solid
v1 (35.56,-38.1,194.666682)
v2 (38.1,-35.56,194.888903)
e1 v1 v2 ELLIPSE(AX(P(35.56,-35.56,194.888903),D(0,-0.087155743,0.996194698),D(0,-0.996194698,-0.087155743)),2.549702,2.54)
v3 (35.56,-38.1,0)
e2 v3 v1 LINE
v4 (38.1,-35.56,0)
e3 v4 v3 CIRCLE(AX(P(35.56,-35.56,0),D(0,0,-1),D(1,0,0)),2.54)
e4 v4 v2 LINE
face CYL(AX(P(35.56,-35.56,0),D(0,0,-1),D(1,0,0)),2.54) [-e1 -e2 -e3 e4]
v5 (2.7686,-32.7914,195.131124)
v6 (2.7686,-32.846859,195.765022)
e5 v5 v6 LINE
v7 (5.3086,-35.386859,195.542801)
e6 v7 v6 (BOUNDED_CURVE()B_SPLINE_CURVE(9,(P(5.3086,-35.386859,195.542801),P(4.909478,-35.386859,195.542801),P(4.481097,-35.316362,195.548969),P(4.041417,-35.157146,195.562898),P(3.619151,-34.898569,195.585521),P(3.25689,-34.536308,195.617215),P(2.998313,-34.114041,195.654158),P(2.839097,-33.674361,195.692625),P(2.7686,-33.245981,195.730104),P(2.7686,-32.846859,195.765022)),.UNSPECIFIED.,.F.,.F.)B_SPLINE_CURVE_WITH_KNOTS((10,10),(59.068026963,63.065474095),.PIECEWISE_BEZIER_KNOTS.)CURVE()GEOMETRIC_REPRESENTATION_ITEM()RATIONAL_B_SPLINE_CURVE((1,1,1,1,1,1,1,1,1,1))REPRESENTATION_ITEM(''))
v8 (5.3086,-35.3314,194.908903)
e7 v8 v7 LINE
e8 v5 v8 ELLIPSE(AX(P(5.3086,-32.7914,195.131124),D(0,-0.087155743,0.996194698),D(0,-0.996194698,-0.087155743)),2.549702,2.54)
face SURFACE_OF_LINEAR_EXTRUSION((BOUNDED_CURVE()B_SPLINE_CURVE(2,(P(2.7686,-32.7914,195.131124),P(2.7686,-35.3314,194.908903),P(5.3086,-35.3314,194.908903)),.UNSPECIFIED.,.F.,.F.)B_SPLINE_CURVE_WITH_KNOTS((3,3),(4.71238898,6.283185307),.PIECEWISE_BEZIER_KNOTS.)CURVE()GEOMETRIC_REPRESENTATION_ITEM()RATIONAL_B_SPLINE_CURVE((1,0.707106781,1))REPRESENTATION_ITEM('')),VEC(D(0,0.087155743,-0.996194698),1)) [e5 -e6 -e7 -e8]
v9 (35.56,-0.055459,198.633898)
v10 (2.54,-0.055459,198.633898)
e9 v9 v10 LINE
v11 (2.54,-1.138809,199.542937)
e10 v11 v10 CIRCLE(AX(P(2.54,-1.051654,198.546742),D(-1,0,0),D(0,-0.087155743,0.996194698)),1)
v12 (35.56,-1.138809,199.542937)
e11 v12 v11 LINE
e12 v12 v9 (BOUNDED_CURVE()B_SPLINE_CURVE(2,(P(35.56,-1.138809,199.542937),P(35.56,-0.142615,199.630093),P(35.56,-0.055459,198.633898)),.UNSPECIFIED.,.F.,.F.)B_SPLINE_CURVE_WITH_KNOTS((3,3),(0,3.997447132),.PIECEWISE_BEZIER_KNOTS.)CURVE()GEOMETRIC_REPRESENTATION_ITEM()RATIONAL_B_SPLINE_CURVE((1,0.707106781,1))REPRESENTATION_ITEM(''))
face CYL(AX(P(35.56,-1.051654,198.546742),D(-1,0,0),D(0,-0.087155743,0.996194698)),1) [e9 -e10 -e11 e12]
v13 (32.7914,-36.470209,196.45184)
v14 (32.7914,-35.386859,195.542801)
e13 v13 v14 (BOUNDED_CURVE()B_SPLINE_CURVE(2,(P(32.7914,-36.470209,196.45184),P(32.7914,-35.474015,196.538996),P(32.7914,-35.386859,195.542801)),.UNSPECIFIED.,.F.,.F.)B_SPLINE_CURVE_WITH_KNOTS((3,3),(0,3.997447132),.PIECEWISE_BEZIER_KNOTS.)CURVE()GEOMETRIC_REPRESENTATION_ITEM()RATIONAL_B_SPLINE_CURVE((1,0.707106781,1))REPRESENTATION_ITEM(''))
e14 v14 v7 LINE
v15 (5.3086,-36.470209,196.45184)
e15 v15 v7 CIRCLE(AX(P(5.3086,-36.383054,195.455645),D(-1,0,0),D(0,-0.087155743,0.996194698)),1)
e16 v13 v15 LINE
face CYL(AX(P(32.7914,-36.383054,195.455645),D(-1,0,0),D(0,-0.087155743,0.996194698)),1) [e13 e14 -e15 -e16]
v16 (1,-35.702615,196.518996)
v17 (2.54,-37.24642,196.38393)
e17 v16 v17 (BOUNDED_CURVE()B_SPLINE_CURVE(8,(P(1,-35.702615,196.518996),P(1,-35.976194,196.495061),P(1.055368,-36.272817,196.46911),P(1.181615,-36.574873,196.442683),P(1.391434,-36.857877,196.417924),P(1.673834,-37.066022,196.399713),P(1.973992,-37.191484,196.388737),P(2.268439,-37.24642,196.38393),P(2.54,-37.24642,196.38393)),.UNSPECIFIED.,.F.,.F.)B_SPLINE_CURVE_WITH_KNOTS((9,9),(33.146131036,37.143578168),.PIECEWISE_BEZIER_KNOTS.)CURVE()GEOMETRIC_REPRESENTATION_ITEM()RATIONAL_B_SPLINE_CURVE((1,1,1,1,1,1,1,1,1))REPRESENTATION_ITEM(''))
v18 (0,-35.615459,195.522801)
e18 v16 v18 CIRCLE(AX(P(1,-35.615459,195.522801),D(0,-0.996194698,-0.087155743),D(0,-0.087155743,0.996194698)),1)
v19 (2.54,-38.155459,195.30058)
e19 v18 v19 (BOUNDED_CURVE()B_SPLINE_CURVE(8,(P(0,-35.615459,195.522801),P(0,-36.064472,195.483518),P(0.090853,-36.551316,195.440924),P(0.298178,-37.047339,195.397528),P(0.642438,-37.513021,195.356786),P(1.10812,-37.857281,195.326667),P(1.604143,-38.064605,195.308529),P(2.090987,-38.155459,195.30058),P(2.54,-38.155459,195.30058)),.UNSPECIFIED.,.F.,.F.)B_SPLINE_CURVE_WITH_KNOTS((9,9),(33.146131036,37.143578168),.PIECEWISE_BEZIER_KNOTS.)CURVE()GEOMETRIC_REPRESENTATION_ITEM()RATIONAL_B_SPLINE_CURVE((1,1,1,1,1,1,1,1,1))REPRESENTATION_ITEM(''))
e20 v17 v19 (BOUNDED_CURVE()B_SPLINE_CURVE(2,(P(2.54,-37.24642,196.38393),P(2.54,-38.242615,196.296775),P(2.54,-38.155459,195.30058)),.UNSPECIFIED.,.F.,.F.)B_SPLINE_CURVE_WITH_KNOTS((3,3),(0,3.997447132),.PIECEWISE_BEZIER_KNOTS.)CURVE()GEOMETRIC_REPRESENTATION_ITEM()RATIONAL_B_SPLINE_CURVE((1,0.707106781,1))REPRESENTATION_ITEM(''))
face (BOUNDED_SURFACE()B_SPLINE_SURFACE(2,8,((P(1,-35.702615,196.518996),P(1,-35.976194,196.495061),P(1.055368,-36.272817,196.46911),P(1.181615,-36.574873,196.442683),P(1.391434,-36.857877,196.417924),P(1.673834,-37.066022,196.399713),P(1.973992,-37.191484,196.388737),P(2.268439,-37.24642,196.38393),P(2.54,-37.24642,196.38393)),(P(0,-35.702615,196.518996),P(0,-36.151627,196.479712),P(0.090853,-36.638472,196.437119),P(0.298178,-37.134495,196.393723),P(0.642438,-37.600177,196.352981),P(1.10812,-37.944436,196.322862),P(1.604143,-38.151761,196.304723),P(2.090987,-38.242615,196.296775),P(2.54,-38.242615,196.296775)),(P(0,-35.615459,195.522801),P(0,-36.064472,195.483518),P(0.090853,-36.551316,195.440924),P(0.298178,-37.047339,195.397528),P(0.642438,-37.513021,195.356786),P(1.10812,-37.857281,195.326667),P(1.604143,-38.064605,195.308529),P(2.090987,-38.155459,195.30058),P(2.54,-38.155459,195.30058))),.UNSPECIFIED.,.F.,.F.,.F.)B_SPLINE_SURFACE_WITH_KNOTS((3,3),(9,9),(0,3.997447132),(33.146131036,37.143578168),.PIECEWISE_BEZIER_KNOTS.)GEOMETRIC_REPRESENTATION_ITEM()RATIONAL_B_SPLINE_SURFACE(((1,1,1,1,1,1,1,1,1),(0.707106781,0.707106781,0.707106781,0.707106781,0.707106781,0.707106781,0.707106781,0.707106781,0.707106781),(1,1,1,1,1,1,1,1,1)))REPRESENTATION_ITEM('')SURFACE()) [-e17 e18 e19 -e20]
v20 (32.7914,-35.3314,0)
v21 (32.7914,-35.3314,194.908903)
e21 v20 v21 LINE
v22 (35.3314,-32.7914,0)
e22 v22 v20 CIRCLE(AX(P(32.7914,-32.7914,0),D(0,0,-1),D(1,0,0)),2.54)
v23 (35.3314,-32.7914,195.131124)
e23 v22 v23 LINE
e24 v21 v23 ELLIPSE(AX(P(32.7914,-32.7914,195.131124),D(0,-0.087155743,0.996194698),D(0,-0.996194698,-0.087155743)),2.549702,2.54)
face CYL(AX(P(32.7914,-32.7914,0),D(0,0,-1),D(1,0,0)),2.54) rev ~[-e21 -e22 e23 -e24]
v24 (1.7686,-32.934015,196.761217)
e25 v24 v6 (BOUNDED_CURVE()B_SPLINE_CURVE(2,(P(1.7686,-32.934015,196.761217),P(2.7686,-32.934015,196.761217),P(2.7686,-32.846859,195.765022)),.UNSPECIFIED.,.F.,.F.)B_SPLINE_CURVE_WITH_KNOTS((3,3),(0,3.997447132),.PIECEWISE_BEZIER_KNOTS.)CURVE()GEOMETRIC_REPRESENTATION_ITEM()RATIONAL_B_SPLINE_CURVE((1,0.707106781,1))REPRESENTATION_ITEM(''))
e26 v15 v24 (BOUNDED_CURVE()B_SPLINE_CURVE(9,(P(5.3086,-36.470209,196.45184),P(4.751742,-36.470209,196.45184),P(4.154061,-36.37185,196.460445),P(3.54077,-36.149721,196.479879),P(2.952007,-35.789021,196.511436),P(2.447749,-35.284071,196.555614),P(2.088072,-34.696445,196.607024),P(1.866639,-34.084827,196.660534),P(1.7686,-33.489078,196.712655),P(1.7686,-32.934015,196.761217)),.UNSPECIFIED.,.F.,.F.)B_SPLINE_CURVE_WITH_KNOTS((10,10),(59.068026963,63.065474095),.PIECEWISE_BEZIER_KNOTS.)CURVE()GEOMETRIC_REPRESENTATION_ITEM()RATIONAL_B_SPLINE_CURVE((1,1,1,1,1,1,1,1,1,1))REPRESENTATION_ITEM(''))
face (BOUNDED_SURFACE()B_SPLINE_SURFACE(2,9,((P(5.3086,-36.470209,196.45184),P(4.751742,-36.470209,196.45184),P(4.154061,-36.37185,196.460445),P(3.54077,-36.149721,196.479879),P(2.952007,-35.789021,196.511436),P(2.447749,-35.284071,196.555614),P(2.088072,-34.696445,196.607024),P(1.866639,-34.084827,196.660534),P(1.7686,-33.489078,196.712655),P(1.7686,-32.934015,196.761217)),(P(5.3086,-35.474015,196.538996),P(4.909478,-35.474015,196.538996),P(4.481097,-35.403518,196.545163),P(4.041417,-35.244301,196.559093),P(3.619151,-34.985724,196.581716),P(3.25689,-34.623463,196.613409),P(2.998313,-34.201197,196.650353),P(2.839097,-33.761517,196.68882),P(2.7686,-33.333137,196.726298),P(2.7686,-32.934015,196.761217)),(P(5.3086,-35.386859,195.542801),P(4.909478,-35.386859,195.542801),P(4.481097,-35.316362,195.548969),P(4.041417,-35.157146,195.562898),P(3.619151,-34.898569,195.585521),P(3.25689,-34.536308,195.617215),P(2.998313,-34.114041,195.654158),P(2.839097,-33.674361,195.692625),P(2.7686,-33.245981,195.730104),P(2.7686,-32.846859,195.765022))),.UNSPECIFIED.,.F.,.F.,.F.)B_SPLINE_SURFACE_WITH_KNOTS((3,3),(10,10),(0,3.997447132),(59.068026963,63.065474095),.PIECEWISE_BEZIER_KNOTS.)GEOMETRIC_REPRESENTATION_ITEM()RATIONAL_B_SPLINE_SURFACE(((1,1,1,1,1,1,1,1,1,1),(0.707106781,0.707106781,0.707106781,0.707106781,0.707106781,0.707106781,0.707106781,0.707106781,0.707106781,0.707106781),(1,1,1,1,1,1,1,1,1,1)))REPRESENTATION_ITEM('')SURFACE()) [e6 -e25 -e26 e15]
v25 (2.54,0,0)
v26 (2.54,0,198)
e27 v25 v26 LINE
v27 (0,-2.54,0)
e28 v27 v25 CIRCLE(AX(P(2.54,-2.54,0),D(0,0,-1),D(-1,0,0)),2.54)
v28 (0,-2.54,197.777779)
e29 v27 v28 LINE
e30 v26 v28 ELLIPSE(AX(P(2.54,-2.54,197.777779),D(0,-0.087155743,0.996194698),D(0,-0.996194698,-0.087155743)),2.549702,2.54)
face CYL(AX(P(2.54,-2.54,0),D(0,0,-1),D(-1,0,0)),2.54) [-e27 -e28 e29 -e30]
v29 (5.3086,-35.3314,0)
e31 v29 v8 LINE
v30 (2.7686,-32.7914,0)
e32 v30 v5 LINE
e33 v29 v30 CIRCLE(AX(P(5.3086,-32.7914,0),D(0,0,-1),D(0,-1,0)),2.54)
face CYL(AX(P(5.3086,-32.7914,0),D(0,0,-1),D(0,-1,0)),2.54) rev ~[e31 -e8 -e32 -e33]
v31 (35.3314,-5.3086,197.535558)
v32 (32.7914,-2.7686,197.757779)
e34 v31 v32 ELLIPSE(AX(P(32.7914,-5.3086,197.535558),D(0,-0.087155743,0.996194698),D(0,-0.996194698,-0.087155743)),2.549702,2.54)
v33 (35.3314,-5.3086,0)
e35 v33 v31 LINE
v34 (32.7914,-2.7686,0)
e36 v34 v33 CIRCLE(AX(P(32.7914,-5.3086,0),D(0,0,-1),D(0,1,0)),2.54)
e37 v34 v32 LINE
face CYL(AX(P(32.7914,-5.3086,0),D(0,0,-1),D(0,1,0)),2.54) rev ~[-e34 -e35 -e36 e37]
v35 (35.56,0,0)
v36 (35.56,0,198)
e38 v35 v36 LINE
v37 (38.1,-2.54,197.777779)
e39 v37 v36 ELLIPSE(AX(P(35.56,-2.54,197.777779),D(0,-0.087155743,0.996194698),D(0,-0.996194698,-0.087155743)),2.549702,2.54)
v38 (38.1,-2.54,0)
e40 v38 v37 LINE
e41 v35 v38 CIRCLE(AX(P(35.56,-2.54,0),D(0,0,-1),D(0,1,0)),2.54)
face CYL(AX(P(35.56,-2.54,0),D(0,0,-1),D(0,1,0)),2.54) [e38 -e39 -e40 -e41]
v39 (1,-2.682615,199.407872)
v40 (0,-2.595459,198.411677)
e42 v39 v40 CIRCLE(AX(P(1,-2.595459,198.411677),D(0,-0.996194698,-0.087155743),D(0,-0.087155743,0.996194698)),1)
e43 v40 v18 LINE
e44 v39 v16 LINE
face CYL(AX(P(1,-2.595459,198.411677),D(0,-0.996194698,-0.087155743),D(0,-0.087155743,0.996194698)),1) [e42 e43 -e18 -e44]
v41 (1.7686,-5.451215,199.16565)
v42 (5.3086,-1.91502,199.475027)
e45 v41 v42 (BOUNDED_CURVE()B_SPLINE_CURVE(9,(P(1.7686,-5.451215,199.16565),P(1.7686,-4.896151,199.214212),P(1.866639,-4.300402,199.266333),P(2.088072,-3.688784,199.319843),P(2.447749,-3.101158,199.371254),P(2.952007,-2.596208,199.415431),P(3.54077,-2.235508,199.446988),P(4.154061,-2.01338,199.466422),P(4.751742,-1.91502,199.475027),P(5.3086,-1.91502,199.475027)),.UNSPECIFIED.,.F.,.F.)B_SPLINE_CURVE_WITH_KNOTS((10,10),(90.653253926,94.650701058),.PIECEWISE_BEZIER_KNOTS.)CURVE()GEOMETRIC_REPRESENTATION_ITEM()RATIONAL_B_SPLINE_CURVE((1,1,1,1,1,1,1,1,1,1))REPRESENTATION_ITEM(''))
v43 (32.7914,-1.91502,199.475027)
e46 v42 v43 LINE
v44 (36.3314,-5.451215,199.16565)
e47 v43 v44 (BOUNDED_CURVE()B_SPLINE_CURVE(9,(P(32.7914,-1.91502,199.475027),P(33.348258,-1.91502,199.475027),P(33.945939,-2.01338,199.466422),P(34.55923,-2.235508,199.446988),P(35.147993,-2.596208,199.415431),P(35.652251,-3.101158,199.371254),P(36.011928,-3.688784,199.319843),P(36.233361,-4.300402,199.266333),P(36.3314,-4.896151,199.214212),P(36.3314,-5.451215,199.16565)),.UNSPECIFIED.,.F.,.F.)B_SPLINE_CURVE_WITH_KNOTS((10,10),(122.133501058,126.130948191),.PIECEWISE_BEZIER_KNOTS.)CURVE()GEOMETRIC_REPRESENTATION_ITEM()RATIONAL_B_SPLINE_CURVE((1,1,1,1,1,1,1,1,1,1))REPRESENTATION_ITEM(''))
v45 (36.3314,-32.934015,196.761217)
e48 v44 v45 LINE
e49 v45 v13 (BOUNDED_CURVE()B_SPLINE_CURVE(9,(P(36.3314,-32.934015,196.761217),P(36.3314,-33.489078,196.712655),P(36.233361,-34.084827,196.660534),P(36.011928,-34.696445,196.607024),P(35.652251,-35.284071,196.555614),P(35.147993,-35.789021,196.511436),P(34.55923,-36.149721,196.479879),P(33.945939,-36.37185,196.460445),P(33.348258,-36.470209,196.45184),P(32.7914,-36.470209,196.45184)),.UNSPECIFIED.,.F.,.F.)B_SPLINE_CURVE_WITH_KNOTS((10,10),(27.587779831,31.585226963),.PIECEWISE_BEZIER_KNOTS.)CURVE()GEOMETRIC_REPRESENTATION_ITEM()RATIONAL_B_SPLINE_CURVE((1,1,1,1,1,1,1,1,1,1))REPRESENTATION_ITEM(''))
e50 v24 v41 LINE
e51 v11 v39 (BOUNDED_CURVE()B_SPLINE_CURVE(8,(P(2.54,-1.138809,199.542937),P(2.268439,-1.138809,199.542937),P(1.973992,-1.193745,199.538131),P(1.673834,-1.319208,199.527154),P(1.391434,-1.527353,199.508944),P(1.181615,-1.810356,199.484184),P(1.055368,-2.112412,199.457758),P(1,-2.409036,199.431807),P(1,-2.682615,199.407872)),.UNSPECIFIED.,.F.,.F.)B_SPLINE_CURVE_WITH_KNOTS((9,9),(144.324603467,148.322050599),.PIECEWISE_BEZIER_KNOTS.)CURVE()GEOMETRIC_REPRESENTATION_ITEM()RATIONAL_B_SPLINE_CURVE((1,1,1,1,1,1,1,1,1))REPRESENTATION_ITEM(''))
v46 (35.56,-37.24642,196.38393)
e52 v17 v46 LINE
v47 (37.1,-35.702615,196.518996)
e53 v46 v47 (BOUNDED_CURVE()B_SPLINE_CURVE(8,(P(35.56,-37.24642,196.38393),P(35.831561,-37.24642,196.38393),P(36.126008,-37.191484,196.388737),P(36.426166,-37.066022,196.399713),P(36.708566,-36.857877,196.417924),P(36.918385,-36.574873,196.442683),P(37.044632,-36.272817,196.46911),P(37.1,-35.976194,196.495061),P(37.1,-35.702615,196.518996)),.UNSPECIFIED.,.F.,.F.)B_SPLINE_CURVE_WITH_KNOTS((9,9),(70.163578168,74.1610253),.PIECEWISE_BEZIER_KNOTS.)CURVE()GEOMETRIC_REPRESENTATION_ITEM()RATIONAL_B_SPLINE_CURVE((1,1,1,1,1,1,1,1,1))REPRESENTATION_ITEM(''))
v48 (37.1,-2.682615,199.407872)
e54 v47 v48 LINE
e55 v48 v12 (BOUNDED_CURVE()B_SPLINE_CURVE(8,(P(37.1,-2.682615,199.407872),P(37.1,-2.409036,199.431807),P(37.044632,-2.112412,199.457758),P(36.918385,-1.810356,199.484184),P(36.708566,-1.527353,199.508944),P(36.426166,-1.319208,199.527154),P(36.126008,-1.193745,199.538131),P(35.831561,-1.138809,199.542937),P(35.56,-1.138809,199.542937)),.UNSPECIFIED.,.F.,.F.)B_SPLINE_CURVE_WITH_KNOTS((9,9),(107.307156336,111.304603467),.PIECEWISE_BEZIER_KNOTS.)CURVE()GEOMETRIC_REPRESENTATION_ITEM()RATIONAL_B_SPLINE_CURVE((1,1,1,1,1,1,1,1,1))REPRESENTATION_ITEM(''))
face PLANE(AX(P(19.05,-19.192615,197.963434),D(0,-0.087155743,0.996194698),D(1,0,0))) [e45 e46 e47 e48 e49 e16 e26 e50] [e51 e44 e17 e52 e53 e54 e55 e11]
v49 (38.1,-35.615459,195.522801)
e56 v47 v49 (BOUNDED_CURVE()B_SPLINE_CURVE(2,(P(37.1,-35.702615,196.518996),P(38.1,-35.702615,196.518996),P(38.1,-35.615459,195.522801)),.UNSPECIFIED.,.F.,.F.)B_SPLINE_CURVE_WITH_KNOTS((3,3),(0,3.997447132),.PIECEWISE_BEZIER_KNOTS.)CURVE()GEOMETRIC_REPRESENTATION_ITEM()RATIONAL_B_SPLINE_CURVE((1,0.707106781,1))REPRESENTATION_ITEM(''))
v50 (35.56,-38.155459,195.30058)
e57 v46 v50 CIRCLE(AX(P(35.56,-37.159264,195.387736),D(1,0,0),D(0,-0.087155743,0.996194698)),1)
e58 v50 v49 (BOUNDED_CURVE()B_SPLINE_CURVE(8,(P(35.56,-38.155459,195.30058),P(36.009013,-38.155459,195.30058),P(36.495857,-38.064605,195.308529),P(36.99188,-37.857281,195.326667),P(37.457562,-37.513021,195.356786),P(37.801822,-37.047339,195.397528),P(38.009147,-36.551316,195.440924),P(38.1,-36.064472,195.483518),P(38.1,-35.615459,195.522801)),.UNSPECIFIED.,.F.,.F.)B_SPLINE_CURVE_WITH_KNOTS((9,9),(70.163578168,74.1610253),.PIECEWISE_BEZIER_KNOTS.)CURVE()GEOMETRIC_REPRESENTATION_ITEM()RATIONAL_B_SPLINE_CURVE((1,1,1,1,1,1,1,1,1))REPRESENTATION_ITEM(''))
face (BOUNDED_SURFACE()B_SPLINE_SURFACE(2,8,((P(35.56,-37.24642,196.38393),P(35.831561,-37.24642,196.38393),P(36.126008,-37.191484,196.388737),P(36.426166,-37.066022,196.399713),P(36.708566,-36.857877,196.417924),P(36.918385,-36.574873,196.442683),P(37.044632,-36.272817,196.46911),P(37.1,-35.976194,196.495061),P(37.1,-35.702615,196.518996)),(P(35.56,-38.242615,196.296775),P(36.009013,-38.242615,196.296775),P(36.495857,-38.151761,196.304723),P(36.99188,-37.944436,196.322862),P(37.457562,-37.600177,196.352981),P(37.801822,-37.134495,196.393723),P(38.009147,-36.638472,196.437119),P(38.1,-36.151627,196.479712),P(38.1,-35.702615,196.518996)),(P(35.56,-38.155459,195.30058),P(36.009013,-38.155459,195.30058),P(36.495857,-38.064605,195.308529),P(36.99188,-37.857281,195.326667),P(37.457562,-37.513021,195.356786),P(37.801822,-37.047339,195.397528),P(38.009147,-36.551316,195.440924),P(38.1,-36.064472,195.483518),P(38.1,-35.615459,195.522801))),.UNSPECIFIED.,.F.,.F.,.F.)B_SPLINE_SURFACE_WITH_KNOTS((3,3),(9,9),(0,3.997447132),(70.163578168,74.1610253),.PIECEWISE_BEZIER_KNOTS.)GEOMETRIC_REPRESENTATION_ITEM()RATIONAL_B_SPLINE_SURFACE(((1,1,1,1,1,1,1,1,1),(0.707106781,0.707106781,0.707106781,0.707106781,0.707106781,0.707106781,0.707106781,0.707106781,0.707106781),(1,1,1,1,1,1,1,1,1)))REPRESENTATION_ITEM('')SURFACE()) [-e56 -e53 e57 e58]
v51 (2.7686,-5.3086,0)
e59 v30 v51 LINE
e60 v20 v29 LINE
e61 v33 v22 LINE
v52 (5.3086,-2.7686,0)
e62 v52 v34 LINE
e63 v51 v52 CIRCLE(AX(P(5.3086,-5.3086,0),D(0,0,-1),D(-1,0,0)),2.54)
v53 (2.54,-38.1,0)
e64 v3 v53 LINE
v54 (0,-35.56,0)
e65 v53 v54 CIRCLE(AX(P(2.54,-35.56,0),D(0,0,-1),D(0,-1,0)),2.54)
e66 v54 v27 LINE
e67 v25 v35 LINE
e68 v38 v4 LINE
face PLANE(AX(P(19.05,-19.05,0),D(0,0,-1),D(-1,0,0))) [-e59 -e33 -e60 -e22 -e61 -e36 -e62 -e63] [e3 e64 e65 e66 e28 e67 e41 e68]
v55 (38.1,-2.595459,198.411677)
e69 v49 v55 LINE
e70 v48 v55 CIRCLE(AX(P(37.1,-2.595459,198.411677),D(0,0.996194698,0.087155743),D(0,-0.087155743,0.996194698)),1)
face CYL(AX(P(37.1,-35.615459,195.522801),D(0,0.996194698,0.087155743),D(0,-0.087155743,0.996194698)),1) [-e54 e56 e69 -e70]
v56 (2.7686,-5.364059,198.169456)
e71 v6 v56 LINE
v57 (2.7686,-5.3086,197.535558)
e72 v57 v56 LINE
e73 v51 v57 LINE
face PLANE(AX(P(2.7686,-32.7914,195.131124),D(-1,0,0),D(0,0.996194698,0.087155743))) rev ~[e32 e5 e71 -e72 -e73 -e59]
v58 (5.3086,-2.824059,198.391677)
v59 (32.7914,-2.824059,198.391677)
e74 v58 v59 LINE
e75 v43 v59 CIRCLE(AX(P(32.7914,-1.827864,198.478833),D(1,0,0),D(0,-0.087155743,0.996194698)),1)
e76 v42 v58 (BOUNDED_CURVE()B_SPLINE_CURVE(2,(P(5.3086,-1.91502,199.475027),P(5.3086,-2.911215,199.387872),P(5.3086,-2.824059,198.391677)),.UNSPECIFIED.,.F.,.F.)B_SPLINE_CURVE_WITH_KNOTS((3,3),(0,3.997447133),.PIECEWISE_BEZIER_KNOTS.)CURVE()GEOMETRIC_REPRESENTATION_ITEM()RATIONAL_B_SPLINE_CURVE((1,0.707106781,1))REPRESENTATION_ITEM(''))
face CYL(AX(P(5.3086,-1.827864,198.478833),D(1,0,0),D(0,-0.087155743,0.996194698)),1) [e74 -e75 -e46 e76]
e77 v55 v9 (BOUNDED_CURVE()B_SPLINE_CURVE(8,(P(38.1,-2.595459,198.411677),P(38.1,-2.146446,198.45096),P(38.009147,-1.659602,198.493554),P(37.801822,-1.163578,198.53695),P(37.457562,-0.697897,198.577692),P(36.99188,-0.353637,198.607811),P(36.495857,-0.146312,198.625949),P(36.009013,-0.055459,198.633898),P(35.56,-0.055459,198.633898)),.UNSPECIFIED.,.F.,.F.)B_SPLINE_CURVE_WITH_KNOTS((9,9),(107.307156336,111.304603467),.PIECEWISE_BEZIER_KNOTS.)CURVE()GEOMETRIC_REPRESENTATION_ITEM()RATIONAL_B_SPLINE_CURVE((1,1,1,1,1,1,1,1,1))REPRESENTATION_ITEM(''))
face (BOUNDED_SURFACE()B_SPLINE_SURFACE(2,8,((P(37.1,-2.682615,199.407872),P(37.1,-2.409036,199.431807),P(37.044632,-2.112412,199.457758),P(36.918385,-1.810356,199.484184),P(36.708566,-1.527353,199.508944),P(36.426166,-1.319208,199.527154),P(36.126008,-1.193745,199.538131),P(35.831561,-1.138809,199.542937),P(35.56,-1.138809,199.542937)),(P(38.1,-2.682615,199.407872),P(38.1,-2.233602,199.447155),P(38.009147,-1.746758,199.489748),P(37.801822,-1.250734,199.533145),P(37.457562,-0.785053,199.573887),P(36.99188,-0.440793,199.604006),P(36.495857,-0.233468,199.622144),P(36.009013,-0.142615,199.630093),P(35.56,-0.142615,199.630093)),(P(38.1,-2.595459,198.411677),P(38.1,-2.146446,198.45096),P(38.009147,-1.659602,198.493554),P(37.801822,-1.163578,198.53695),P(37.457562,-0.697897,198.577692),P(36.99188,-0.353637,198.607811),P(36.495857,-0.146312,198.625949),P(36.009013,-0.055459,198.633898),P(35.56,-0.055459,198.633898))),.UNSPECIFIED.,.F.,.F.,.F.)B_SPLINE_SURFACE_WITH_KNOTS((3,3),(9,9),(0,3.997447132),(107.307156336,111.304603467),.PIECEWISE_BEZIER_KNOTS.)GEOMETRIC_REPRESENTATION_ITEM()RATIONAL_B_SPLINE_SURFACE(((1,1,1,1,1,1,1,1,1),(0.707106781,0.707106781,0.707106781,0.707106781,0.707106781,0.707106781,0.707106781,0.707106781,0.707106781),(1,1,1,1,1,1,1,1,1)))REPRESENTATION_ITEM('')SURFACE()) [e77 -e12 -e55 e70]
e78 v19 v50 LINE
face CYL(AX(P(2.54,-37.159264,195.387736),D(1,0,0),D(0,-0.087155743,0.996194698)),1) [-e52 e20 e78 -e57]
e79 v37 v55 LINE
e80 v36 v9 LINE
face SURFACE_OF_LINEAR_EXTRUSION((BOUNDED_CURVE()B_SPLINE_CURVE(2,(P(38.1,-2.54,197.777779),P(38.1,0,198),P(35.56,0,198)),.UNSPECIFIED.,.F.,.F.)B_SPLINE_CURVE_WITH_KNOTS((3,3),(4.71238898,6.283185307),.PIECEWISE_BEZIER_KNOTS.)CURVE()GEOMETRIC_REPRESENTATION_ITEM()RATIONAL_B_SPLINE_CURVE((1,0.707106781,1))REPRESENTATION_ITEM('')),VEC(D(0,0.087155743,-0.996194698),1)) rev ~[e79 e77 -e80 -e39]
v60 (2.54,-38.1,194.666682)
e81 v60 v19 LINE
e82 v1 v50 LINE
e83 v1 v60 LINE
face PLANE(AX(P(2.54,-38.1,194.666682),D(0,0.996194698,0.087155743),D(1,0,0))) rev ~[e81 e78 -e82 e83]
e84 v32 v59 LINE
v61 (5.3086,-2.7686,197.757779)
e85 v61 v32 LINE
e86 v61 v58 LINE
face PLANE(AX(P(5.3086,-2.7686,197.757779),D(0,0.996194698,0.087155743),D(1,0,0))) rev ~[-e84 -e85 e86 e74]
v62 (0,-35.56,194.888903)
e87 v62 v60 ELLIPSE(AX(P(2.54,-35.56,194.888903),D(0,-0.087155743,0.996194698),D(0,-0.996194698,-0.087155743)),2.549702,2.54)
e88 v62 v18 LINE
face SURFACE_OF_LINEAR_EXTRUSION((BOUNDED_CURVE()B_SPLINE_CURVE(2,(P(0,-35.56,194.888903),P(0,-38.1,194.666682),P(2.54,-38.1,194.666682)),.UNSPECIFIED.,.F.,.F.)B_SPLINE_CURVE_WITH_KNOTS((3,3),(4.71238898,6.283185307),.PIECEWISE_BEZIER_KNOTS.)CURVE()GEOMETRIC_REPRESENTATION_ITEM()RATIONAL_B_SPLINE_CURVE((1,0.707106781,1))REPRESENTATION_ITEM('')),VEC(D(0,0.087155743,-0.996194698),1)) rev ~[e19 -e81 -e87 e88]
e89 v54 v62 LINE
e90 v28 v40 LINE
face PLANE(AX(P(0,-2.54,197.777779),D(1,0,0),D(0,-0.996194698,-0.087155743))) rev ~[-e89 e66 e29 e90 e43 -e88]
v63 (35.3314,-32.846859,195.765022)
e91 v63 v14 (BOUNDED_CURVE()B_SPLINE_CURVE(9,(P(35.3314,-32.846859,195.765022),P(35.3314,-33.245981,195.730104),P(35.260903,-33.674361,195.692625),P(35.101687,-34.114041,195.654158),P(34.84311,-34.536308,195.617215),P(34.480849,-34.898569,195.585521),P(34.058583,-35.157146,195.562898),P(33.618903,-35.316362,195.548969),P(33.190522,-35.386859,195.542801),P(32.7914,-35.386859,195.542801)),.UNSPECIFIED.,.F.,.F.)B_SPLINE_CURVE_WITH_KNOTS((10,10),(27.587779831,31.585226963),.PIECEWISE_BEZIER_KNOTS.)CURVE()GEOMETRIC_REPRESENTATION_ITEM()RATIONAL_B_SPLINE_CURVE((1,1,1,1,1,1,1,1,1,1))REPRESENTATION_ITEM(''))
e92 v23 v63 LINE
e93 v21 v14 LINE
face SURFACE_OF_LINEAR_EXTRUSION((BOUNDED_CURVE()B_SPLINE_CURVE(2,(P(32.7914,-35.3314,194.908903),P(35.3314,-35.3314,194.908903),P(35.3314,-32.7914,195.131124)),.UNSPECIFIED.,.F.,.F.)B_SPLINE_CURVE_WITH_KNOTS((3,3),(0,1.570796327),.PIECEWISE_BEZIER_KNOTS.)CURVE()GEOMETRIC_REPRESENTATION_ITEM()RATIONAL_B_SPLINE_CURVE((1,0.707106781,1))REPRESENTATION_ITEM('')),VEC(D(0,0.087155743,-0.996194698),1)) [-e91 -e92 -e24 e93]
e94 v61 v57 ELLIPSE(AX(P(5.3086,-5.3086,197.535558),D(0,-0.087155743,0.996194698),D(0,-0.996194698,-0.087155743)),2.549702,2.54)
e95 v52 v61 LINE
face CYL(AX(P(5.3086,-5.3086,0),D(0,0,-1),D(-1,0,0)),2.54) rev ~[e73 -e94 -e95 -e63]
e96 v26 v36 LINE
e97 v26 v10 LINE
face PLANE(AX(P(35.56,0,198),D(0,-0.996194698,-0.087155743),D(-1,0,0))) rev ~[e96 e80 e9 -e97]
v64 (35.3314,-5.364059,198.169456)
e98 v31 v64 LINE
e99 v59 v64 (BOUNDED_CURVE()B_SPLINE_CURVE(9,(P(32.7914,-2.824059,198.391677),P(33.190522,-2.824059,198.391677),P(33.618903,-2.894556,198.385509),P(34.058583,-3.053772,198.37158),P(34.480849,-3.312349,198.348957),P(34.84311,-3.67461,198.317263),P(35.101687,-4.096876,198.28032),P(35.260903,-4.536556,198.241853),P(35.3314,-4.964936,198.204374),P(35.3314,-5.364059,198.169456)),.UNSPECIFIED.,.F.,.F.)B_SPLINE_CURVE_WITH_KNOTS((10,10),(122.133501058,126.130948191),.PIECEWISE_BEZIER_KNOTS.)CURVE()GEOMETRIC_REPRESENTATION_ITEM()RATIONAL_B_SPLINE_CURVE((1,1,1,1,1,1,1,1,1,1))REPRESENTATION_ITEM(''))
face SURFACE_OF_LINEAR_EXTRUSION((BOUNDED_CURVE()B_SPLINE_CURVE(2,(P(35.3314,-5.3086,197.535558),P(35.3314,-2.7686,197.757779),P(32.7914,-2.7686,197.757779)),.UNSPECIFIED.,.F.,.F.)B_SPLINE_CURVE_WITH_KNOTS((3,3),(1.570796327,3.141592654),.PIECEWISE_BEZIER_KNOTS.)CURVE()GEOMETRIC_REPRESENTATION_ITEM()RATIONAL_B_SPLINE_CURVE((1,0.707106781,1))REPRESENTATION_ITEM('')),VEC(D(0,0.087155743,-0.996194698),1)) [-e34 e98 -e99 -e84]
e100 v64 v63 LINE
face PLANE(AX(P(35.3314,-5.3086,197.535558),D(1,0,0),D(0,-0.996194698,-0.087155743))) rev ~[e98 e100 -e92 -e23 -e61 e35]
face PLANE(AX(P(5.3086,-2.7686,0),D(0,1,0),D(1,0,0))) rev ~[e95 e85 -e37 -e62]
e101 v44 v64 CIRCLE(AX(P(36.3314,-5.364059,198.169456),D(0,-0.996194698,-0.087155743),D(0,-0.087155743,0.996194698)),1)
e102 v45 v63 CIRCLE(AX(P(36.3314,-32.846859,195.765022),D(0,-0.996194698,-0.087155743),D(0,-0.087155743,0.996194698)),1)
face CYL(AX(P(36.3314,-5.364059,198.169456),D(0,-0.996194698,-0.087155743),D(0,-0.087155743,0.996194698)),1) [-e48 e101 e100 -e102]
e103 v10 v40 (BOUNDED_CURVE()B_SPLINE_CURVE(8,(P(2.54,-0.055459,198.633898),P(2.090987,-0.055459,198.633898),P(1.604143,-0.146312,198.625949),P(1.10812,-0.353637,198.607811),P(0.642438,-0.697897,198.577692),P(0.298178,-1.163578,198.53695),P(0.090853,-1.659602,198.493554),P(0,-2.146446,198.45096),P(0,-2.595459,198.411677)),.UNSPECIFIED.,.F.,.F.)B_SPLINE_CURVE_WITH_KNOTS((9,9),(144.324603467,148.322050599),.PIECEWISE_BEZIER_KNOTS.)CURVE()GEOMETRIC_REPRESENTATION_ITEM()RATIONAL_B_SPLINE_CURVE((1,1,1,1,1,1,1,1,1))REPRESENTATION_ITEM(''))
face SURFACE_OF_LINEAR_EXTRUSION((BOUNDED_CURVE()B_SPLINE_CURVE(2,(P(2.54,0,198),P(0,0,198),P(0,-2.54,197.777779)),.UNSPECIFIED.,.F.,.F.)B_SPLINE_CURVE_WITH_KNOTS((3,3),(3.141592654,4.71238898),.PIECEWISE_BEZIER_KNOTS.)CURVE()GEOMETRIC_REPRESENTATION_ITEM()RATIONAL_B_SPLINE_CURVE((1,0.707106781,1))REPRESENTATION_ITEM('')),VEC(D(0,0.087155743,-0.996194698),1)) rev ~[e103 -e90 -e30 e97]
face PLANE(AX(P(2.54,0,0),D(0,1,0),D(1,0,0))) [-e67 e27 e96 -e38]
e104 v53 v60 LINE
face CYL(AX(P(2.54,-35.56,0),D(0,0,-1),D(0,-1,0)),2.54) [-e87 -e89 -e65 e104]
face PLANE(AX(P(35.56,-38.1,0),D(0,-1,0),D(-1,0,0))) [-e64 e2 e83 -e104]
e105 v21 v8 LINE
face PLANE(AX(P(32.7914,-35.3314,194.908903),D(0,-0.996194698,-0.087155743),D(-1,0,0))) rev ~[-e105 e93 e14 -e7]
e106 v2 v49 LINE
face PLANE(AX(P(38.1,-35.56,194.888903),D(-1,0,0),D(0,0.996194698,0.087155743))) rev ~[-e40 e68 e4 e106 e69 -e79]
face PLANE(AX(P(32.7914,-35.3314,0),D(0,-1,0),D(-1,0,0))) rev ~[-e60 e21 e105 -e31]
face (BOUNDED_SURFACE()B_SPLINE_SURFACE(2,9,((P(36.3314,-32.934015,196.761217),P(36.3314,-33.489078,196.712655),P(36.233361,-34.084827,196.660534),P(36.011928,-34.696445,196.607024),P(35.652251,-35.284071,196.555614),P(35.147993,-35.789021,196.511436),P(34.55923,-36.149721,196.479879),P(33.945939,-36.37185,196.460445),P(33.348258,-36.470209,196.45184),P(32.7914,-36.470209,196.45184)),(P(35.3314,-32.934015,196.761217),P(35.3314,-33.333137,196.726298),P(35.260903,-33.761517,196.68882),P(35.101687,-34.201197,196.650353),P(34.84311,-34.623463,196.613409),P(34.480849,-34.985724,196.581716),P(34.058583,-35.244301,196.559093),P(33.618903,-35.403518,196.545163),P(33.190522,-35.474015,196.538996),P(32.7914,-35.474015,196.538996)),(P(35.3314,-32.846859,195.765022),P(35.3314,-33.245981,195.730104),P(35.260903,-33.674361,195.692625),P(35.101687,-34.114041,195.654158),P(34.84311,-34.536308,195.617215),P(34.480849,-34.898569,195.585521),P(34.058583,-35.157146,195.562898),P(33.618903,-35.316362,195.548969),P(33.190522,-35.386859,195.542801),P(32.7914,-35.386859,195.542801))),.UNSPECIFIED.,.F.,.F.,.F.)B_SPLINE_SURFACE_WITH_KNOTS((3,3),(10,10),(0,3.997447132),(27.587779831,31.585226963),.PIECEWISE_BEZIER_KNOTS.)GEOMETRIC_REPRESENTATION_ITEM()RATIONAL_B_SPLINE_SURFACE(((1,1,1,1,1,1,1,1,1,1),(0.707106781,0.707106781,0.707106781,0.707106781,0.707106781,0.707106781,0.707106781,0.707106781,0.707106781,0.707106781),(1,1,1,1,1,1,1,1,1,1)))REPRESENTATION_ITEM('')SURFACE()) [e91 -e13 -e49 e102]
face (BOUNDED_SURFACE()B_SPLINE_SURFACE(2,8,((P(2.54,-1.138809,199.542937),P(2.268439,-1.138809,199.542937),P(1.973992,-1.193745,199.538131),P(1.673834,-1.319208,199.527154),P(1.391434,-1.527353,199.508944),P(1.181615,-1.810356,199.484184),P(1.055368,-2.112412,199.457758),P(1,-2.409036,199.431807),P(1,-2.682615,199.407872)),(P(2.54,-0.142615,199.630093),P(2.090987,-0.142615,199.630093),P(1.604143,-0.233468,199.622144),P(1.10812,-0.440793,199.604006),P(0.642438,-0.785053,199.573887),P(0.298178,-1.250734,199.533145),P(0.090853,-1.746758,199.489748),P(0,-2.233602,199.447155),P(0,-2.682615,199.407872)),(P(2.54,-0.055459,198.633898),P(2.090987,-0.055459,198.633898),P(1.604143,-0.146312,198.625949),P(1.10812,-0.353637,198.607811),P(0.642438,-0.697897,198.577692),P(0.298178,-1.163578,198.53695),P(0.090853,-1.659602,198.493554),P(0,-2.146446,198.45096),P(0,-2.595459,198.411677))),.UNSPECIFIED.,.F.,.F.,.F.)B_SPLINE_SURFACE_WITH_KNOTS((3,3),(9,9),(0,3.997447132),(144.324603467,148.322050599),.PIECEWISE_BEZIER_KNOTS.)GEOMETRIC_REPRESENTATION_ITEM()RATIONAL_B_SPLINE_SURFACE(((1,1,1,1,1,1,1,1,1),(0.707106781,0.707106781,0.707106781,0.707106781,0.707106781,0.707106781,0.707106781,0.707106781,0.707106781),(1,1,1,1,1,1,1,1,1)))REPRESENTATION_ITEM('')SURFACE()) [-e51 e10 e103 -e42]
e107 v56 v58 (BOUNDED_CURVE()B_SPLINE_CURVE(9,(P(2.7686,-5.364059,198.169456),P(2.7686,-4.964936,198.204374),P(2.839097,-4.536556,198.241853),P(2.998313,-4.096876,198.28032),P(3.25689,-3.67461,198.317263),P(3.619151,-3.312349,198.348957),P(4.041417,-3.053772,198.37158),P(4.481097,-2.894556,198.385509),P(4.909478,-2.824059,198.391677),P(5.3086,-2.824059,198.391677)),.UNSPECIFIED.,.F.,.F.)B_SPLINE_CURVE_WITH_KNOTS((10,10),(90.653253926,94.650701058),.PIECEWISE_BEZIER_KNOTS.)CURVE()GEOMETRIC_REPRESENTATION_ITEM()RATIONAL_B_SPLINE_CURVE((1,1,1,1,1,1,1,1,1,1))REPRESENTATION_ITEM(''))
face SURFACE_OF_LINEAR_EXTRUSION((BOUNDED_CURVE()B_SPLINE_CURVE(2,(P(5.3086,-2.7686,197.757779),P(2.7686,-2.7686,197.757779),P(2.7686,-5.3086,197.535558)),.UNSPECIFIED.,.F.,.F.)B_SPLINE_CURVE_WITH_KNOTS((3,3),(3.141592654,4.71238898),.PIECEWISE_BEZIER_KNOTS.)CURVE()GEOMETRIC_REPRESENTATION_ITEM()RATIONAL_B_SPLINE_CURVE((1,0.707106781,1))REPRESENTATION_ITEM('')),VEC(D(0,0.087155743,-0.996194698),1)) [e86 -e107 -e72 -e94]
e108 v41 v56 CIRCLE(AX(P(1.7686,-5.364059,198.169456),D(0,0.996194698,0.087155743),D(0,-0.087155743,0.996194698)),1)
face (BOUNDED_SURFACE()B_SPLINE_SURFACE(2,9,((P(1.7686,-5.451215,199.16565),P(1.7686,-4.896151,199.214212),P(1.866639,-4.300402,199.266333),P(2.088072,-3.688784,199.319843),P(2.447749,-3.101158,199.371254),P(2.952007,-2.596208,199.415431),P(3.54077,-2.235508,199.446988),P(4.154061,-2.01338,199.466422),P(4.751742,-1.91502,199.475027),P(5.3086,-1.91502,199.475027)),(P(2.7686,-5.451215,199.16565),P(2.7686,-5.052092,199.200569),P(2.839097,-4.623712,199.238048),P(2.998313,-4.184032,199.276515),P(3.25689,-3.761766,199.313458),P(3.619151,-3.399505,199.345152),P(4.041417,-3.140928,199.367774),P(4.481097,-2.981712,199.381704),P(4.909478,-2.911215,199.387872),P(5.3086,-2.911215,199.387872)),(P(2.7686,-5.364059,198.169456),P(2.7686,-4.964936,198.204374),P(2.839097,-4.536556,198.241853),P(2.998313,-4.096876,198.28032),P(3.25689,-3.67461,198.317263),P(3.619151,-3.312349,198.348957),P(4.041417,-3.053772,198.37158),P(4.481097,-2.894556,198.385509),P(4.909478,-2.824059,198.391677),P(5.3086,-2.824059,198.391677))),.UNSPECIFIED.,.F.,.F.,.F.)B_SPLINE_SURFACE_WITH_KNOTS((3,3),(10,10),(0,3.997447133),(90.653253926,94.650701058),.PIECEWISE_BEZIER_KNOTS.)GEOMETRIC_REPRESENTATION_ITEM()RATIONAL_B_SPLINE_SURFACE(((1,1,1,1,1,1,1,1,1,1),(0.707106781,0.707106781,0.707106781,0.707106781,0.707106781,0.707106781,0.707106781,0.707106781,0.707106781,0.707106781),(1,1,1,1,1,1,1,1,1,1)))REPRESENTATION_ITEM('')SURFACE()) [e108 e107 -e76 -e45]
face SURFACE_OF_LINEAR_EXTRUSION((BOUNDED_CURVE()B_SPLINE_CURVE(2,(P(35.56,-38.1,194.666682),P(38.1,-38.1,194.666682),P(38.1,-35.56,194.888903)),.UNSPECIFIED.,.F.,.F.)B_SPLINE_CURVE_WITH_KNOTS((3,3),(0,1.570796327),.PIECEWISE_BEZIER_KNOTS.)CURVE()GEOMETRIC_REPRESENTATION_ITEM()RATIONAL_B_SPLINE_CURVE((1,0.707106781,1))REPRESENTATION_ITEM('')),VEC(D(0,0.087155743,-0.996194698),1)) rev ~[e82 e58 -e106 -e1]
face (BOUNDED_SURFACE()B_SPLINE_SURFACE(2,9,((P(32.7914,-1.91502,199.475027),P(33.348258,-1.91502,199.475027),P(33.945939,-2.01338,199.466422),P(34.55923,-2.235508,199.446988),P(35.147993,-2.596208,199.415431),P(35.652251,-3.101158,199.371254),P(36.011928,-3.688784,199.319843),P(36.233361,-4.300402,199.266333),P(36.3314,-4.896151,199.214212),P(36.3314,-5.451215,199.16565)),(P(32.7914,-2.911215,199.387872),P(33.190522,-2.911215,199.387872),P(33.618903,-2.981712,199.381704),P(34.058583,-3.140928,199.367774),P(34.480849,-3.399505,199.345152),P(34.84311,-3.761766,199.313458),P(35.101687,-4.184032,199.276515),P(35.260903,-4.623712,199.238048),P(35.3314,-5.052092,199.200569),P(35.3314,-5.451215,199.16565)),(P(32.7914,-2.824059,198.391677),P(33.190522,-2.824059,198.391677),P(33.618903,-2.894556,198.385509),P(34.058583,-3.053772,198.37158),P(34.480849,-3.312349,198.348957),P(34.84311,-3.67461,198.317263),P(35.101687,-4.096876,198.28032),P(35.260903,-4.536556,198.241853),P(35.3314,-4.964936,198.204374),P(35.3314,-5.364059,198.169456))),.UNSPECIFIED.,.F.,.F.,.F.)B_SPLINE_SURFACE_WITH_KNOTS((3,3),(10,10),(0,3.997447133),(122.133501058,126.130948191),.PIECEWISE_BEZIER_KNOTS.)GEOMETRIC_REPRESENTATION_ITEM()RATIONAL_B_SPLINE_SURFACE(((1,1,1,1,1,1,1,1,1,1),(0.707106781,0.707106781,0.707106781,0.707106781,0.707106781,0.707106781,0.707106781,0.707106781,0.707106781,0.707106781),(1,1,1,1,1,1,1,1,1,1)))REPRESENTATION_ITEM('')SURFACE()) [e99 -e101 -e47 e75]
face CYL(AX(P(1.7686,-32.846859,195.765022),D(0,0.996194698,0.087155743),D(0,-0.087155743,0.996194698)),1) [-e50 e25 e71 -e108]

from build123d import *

# Parameters (mm, degrees)
BOSS_EXTRUDE1_DEPTH = 198
CUT_EXTRUDE3_DEPTH  = 206.200438596
BOSS_EXTRUDE2_DEPTH = 1.636319424
FILLET1_R           = 1


with BuildPart() as part:
    # Sketch1 → Boss-Extrude1 (new body)
    with BuildSketch(Plane.XY):
        with BuildLine():
            Line((2.54, 0), (35.56, 0))
            ThreePointArc((35.56, 0), (37.356051224, -0.743948776), (38.1, -2.54))
            Line((38.1, -2.54), (38.1, -35.56))
            ThreePointArc((38.1, -35.56), (37.356051224, -37.356051224), (35.56, -38.1))
            Line((35.56, -38.1), (2.54, -38.1))
            ThreePointArc((2.54, -38.1), (0.743948776, -37.356051224), (0, -35.56))
            Line((0, -35.56), (0, -2.54))
            ThreePointArc((0, -2.54), (0.743948776, -0.743948776), (2.54, 0))
        make_face()
        with BuildLine():
            Line((5.3086, -2.7686), (32.7914, -2.7686))
            ThreePointArc((32.7914, -2.7686), (34.587451224, -3.512548776), (35.3314, -5.3086))
            Line((35.3314, -5.3086), (35.3314, -32.7914))
            ThreePointArc((35.3314, -32.7914), (34.587451224, -34.587451224), (32.7914, -35.3314))
            Line((32.7914, -35.3314), (5.3086, -35.3314))
            ThreePointArc((5.3086, -35.3314), (3.512548776, -34.587451224), (2.7686, -32.7914))
            Line((2.7686, -32.7914), (2.7686, -5.3086))
            ThreePointArc((2.7686, -5.3086), (3.512548776, -3.512548776), (5.3086, -2.7686))
        make_face(mode=Mode.SUBTRACT)
    extrude(amount=BOSS_EXTRUDE1_DEPTH)

    # Sketch3 → Cut-Extrude3 (cut, through all)
    with BuildSketch(Plane(origin=(38.1, 0, 0), x_dir=(0, 0, -1), z_dir=(1, 0, 0))):
        Polygon((-198, 0), (-194.66668192, -38.1), (-198, -38.1), align=None)
    extrude(amount=-CUT_EXTRUDE3_DEPTH, mode=Mode.SUBTRACT)

    # Sketch4 → Boss-Extrude2 (add)
    with BuildSketch(Plane(origin=(0, -17.191169589, 196.495967548), x_dir=(1, 0, 0), z_dir=(0, -0.08715574274765185, 0.9961946980917462))):
        with BuildLine():
            Line((2.54, -20.988698746), (35.56, -20.988698746))
            add(Edge.make_bspline(
                [(35.56, -20.988698746), (38.1, -20.988698746), (38.1, -18.438996359)],
                knots=[0, 0, 0, 1.570796327, 1.570796327, 1.570796327], degree=2, weights=[1, 0.707106781, 1]))
            Line((38.1, -18.438996359), (38.1, 14.707134677))
            add(Edge.make_bspline(
                [(38.1, 14.707134677), (38.1, 17.256837064), (35.56, 17.256837064)],
                knots=[4.71238898, 4.71238898, 4.71238898, 6.283185307, 6.283185307, 6.283185307], degree=2, weights=[1, 0.707106781, 1]))
            Line((35.56, 17.256837064), (2.54, 17.256837064))
            add(Edge.make_bspline(
                [(2.54, 17.256837064), (0, 17.256837064), (0, 14.707134677)],
                knots=[3.141592654, 3.141592654, 3.141592654, 4.71238898, 4.71238898, 4.71238898], degree=2, weights=[1, 0.707106781, 1]))
            Line((0, 14.707134677), (0, -18.438996359))
            add(Edge.make_bspline(
                [(0, -18.438996359), (0, -20.988698746), (2.54, -20.988698746)],
                knots=[4.71238898, 4.71238898, 4.71238898, 6.283185307, 6.283185307, 6.283185307], degree=2, weights=[1, 0.707106781, 1]))
        make_face()
        with BuildLine():
            Line((35.3314, 11.927959074), (35.3314, -15.659820757))
            add(Edge.make_bspline(
                [(32.7914, -18.209523144), (35.3314, -18.209523144), (35.3314, -15.659820757)],
                knots=[0, 0, 0, 1.570796327, 1.570796327, 1.570796327], degree=2, weights=[1, 0.707106781, 1]))
            Line((32.7914, -18.209523144), (5.3086, -18.209523144))
            add(Edge.make_bspline(
                [(2.7686, -15.659820757), (2.7686, -18.209523144), (5.3086, -18.209523144)],
                knots=[4.71238898, 4.71238898, 4.71238898, 6.283185307, 6.283185307, 6.283185307], degree=2, weights=[1, 0.707106781, 1]))
            Line((2.7686, -15.659820757), (2.7686, 11.927959074))
            add(Edge.make_bspline(
                [(5.3086, 14.477661462), (2.7686, 14.477661462), (2.7686, 11.927959074)],
                knots=[3.141592654, 3.141592654, 3.141592654, 4.71238898, 4.71238898, 4.71238898], degree=2, weights=[1, 0.707106781, 1]))
            Line((5.3086, 14.477661462), (32.7914, 14.477661462))
            add(Edge.make_bspline(
                [(35.3314, 11.927959074), (35.3314, 14.477661462), (32.7914, 14.477661462)],
                knots=[1.570796327, 1.570796327, 1.570796327, 3.141592654, 3.141592654, 3.141592654], degree=2, weights=[1, 0.707106781, 1]))
        make_face(mode=Mode.SUBTRACT)
    extrude(amount=BOSS_EXTRUDE2_DEPTH)

    # Fillet1
    fillet1_edges = [part.edges().sort_by_distance(p)[0] for p in [
        (35.3314, -19.192614635, 197.963433694),
        (34.589162497, -34.728352955, 196.604232712),
        (19.05, -35.474014635, 196.538995768),
        (3.510837922, -34.728353374, 196.604232675),
        (2.7686, -19.192614635, 197.963433694),
        (3.510837503, -3.656876315, 199.322634677),
        (19.05, -2.911214635, 199.387871621),
        (34.589162078, -3.656875896, 199.322634714),
        (0, -19.192614635, 197.963433694),
        (0.742237922, -37.496953374, 196.362011561),
        (19.05, -38.242614635, 196.296774654),
        (37.357762497, -37.496952955, 196.362011598),
        (38.1, -19.192614635, 197.963433694),
        (37.357762078, -0.888275896, 199.564855827),
        (19.05, -0.142614635, 199.630092735),
        (0.742237503, -0.888276315, 199.564855791),
    ]]
    fillet(fillet1_edges, radius=FILLET1_R)


solid = part.part
